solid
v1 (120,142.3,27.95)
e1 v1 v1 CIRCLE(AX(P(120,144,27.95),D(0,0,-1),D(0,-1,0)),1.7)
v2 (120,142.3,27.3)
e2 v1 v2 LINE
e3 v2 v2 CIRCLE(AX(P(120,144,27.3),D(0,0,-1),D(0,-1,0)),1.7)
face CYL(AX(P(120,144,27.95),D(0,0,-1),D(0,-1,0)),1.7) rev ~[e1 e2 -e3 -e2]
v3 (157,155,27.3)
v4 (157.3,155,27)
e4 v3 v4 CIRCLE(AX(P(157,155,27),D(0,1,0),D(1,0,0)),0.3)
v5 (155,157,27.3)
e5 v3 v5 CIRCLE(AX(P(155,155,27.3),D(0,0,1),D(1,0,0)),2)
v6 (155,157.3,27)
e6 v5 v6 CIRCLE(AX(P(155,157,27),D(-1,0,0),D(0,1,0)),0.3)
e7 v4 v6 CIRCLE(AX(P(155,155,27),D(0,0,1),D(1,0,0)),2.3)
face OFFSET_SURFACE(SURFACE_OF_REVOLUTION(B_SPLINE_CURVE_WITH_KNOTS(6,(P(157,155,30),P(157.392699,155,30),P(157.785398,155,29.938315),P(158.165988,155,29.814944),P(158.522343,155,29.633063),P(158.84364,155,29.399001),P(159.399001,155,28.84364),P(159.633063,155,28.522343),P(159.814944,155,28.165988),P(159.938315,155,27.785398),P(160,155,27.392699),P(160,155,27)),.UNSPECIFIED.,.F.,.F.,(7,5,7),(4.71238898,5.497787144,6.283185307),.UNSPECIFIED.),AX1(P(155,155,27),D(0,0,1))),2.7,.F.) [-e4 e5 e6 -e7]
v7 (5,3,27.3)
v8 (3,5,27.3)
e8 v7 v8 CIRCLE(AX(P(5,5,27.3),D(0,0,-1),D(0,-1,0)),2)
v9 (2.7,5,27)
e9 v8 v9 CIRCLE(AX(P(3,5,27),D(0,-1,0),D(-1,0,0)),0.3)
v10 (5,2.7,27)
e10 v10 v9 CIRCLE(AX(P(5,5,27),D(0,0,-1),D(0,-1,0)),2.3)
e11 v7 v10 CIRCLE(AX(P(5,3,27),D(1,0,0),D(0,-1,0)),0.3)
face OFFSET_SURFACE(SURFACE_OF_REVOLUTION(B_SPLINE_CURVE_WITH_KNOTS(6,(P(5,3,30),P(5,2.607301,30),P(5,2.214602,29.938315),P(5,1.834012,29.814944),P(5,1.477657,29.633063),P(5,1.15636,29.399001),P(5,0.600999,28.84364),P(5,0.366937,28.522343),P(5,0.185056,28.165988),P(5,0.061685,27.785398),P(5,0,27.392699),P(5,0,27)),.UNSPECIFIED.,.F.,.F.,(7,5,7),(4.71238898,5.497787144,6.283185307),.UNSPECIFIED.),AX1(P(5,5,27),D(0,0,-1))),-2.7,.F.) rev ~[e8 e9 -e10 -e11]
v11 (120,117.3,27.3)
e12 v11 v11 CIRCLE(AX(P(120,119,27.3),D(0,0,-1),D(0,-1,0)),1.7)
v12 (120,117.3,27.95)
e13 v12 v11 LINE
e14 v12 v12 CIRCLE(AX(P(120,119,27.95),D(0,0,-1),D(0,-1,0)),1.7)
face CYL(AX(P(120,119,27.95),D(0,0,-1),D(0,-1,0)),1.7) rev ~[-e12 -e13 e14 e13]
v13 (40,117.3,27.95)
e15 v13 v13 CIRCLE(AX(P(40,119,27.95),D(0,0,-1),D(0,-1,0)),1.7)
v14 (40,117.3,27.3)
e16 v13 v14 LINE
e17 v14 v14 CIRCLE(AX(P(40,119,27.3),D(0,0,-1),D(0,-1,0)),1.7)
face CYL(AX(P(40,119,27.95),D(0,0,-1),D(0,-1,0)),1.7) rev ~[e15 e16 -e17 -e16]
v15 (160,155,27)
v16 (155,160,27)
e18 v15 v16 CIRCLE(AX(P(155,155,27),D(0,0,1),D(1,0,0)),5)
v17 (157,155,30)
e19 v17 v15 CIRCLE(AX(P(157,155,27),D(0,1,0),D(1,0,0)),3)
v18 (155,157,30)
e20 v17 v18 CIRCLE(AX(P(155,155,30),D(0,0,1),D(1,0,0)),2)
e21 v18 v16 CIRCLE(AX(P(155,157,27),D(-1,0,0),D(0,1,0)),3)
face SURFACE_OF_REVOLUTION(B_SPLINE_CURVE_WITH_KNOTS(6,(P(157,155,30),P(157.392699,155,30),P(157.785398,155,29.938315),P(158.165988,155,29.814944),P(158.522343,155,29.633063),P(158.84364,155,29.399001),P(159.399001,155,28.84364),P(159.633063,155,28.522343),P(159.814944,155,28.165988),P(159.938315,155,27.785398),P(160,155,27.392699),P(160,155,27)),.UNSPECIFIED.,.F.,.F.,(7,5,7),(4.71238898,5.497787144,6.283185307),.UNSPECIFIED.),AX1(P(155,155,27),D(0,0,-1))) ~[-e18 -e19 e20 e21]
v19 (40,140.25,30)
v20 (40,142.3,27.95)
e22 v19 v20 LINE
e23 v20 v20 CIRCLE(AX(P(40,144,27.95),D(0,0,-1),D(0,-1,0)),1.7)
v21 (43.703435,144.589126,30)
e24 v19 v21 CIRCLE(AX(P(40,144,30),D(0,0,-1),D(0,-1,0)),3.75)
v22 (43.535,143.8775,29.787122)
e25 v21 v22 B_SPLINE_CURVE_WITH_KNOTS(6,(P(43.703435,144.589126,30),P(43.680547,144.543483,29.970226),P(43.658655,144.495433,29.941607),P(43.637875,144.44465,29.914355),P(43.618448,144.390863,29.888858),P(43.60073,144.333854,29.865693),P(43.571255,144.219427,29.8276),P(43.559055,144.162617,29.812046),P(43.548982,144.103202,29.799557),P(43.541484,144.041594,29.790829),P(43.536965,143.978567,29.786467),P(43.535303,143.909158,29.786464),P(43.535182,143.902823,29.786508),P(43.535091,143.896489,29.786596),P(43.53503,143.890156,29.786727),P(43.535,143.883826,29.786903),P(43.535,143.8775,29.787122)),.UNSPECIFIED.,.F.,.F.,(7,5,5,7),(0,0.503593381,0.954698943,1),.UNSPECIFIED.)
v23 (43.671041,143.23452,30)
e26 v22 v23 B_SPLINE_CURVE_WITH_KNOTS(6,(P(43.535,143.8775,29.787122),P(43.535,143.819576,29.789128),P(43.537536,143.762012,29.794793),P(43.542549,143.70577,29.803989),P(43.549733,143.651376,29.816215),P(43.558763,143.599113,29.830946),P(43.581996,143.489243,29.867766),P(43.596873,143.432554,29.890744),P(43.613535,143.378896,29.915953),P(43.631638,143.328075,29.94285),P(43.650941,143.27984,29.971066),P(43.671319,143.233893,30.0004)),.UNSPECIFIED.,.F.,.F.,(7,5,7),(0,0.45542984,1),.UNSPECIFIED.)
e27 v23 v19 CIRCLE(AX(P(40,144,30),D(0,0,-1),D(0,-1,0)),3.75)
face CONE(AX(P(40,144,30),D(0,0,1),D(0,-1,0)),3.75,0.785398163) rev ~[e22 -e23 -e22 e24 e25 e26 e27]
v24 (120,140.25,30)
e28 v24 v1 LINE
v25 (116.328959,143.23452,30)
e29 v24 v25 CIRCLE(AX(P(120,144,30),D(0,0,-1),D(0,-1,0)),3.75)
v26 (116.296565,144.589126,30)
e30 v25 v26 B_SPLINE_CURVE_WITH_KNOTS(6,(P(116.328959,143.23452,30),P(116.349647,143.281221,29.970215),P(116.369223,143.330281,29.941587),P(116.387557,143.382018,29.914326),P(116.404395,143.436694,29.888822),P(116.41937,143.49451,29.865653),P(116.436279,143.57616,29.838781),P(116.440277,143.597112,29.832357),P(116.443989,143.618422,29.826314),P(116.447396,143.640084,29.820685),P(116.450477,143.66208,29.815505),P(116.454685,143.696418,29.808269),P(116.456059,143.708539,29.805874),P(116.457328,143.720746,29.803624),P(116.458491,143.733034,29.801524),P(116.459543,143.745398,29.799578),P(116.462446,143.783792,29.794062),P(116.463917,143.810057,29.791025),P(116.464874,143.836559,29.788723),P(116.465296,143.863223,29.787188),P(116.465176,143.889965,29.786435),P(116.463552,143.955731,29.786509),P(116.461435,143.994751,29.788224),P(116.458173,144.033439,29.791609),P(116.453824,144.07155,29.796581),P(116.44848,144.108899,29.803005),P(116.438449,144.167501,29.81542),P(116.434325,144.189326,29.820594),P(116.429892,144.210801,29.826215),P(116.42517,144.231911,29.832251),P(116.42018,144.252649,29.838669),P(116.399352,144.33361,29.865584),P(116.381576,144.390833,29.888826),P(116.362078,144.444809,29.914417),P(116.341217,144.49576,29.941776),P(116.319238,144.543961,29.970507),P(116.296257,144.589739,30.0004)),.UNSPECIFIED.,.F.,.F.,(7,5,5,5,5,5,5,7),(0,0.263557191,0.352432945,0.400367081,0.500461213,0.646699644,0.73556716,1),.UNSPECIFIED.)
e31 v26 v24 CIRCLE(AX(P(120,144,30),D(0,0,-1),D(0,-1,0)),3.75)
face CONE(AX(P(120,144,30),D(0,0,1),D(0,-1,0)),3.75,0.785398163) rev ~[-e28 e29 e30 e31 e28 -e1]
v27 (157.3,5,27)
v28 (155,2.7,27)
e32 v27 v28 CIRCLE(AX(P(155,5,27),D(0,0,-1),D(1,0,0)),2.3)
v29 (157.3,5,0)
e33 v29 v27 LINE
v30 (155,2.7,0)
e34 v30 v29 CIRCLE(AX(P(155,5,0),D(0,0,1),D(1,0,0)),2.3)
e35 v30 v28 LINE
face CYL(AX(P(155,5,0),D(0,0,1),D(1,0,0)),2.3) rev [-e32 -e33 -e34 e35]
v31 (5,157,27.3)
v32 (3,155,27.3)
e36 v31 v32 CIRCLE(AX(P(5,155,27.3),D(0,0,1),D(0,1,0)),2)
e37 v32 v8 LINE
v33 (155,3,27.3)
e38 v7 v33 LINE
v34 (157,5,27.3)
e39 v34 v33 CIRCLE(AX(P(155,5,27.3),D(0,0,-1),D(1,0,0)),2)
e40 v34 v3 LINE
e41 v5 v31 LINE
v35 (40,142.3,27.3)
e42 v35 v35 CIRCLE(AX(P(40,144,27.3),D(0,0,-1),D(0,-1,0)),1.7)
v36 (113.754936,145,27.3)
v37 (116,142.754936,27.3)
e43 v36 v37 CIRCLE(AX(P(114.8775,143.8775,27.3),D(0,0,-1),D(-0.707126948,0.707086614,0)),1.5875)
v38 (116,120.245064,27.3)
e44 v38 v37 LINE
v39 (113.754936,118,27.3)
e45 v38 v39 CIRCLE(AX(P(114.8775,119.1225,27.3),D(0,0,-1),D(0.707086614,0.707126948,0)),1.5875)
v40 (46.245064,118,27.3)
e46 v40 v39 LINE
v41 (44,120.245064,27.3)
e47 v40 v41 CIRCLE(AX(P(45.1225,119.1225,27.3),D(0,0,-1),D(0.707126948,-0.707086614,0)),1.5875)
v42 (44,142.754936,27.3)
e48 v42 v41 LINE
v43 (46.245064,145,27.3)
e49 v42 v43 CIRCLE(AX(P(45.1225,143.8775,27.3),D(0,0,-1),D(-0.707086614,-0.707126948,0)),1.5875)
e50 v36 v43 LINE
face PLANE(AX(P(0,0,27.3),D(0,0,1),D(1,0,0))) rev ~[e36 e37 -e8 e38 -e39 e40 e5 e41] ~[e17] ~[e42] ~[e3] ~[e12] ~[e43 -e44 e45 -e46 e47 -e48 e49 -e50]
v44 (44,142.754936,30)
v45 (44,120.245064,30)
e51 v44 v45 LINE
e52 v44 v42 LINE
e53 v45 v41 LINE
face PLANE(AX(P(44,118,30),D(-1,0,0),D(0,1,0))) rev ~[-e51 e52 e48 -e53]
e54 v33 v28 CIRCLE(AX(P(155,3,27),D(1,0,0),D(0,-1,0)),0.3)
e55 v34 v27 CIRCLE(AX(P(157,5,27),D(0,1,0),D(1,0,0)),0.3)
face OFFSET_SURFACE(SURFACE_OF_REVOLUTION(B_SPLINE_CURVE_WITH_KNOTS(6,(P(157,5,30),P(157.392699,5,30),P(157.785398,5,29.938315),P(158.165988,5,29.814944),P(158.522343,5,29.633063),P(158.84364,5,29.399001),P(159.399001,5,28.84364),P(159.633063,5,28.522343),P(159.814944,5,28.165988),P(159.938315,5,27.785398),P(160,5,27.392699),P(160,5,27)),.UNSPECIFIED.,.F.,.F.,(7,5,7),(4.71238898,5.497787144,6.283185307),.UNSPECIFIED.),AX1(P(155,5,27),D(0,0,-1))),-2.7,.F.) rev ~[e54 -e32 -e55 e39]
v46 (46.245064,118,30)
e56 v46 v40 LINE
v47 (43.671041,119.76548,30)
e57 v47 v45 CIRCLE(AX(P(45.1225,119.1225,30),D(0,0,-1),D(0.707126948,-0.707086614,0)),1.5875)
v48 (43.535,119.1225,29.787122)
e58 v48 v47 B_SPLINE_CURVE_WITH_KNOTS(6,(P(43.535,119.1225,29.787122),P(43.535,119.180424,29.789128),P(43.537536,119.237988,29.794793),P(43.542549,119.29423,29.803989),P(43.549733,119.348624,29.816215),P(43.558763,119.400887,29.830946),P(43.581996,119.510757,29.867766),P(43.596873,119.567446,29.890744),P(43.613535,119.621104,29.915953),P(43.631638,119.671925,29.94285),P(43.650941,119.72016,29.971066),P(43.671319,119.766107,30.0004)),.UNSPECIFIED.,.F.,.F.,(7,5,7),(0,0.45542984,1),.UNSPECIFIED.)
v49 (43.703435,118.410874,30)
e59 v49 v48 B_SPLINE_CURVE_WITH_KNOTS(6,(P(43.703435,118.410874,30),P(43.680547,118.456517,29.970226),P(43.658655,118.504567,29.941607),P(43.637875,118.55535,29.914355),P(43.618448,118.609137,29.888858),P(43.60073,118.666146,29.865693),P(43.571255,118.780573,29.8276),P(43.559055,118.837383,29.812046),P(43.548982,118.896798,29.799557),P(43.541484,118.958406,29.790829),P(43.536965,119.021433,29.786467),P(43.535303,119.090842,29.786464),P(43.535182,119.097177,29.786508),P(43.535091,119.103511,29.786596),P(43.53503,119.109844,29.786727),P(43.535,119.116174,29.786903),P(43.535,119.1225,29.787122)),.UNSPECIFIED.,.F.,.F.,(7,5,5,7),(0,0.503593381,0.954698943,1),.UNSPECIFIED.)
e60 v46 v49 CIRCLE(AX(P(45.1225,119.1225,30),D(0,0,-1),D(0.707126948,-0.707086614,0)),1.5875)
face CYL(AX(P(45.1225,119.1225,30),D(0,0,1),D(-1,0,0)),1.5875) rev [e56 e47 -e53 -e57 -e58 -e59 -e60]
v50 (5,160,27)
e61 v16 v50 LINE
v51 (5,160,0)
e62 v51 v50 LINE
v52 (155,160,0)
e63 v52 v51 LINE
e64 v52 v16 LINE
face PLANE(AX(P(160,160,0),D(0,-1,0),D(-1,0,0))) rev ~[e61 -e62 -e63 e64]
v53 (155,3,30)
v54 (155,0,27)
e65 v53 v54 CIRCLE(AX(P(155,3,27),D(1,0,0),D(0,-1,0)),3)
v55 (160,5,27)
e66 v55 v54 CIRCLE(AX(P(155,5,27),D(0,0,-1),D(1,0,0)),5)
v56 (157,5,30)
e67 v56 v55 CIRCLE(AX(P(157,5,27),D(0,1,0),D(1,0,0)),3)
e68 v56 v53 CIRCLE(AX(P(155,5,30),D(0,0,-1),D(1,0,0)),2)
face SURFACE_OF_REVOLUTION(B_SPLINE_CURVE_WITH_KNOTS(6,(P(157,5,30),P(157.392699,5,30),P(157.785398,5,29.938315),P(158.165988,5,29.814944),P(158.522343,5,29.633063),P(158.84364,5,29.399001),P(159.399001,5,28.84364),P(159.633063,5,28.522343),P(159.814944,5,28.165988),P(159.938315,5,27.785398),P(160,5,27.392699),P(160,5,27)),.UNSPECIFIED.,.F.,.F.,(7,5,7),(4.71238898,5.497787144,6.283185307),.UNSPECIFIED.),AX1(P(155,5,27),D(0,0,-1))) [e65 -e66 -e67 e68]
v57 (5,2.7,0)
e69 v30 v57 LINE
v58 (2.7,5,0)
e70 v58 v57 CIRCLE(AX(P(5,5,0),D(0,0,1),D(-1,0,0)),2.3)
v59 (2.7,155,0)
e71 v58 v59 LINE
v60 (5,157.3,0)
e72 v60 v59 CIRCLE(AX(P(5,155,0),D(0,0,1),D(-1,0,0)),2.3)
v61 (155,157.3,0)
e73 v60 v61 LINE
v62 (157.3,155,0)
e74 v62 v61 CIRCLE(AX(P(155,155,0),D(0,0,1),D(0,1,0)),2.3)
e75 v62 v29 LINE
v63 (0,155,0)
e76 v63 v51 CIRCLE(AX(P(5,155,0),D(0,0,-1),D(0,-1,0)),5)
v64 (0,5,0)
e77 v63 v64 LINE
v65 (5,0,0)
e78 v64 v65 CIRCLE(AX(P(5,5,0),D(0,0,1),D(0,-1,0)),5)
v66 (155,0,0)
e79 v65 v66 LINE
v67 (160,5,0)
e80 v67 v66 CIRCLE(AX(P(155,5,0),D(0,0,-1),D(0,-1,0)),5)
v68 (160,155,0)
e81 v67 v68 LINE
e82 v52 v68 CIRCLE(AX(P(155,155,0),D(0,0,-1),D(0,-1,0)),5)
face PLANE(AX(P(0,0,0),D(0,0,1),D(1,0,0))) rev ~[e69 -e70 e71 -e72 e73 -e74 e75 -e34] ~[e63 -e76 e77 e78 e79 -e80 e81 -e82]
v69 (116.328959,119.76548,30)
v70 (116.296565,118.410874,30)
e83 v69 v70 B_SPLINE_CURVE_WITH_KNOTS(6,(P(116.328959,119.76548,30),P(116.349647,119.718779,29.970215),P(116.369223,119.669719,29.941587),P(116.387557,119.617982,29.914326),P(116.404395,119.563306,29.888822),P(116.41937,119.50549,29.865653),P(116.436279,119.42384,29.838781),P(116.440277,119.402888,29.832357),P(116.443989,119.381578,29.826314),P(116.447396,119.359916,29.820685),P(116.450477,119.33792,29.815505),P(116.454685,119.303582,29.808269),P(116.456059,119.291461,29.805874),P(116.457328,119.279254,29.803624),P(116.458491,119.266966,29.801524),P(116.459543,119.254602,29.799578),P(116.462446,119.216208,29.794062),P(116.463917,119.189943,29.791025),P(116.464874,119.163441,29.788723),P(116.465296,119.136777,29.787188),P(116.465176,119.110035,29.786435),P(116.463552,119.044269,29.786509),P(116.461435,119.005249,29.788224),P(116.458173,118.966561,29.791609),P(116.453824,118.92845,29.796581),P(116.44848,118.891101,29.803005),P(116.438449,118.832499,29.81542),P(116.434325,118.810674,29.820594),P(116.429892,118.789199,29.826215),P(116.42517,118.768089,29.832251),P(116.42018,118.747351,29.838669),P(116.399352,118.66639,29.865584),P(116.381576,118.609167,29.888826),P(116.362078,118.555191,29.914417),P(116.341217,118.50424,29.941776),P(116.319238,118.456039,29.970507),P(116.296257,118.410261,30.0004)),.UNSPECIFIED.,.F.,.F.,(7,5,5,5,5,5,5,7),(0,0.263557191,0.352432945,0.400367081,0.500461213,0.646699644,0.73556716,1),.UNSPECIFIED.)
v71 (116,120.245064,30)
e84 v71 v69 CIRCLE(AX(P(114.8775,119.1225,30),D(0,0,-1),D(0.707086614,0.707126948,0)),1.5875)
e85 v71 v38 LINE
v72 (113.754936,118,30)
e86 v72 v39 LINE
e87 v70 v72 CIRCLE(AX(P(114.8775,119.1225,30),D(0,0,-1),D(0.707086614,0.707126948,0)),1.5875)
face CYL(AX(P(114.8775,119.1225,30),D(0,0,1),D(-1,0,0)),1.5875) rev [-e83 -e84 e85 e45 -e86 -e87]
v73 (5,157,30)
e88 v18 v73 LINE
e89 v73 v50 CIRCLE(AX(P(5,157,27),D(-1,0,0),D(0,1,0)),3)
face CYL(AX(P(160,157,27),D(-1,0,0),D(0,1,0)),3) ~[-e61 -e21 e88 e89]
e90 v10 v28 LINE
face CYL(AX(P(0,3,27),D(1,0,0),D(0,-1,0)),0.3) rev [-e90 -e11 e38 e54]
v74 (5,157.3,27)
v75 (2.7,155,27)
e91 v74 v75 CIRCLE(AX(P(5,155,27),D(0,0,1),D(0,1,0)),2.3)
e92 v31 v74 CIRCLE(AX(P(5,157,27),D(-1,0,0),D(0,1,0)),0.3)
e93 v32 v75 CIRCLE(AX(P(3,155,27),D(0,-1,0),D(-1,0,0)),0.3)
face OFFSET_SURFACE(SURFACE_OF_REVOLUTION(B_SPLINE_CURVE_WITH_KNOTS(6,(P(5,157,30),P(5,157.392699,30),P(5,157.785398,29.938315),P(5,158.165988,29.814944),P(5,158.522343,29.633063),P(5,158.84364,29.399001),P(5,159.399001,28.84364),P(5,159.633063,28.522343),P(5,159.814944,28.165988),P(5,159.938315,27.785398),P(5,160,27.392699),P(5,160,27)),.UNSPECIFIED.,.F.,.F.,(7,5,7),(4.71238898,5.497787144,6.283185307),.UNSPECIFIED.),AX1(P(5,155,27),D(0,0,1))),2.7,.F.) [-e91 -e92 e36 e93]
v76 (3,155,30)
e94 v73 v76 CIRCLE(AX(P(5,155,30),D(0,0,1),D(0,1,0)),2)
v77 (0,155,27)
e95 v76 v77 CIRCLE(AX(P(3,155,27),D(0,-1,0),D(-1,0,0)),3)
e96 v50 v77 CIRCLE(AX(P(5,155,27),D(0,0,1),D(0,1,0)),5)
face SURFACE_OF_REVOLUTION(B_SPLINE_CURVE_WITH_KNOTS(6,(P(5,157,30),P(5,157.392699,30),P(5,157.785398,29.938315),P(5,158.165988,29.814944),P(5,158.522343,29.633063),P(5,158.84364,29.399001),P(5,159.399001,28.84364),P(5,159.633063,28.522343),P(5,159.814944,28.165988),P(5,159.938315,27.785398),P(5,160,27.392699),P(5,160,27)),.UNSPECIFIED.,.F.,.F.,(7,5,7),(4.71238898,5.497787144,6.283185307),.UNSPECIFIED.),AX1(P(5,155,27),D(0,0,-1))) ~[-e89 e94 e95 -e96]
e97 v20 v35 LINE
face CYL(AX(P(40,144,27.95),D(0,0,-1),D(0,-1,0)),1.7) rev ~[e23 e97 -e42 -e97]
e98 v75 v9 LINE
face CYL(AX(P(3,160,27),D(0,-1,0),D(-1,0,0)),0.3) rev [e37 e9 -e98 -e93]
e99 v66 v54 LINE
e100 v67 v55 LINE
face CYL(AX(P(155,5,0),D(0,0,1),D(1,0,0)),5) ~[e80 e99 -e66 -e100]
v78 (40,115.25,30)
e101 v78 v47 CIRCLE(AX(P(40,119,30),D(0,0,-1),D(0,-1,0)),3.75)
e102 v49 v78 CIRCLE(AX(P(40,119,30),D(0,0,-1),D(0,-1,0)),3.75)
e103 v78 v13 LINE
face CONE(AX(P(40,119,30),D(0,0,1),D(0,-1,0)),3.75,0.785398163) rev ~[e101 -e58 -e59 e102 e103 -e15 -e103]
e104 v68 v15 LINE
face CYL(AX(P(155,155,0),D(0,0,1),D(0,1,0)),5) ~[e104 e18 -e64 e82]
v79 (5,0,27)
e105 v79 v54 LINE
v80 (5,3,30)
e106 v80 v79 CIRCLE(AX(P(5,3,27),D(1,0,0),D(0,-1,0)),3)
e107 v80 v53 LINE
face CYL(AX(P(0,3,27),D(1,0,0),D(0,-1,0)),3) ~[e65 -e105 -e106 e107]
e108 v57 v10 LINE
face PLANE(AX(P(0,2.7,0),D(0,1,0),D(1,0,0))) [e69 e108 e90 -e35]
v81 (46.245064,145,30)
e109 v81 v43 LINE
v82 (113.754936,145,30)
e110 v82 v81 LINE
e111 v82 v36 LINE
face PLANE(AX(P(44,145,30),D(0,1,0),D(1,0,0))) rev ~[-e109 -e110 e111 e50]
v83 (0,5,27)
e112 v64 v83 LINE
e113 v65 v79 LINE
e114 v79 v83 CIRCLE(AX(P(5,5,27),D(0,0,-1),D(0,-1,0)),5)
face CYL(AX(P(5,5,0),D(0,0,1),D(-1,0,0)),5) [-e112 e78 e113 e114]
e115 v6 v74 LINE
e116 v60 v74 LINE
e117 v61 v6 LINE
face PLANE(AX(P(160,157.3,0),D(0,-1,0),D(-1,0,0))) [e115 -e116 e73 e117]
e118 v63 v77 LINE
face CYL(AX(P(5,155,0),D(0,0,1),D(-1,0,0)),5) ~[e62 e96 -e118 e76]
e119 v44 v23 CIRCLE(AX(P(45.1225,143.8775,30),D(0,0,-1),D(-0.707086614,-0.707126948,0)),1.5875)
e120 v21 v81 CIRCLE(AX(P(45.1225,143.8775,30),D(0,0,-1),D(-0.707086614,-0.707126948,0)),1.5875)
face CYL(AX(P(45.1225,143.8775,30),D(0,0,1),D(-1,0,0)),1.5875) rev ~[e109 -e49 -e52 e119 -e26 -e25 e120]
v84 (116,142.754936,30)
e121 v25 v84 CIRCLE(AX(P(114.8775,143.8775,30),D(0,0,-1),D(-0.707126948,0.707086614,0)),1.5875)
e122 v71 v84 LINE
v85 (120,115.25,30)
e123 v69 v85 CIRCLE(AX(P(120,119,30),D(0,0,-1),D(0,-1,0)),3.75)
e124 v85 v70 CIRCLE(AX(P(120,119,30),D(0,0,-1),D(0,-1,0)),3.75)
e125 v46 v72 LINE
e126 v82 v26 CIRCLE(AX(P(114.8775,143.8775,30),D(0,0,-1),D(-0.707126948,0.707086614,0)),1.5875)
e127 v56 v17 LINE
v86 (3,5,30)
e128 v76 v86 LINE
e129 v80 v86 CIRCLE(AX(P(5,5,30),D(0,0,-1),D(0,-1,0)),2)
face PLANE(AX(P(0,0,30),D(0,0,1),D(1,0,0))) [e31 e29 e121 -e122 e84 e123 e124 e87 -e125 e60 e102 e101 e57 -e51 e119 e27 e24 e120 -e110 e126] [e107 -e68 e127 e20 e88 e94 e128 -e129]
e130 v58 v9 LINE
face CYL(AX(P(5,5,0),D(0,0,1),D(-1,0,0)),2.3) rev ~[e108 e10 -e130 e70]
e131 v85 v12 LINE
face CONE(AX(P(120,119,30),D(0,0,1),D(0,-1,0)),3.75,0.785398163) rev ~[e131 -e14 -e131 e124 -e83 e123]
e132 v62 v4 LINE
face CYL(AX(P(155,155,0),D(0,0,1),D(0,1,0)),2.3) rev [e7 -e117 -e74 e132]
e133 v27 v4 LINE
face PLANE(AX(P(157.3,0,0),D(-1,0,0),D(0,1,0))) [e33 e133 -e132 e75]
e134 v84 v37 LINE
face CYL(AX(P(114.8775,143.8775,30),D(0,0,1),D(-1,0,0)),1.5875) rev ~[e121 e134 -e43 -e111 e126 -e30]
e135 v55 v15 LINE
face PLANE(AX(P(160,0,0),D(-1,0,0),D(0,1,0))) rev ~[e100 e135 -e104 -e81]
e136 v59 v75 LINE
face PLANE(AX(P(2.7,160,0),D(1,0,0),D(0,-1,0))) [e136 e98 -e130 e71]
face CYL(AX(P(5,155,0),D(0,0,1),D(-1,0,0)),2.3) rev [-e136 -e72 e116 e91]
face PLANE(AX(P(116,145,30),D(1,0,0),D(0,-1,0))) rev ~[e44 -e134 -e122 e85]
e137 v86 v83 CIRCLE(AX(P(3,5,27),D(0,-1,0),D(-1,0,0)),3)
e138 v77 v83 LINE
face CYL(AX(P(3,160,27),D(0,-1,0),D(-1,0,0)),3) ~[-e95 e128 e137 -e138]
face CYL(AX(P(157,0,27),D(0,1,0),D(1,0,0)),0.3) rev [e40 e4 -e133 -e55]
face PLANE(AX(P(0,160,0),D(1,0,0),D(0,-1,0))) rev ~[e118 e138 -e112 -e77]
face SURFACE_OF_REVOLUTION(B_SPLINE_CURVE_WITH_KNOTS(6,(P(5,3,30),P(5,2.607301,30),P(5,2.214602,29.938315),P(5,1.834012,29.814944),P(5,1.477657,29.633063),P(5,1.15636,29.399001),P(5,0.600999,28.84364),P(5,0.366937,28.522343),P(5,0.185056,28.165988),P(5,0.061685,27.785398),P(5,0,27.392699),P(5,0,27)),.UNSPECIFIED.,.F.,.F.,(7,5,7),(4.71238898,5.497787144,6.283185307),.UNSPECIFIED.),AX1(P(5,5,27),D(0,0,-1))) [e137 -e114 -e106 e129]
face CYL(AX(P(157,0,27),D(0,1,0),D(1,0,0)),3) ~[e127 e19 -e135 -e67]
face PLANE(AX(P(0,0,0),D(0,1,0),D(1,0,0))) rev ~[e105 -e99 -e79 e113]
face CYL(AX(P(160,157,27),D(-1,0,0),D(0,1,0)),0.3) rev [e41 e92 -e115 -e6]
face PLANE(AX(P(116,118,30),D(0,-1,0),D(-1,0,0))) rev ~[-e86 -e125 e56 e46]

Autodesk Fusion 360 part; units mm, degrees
sketch "Sketch1" plane through (0, 0, 0) normal (0, 0, 1) x (1, 0, 0)
  line L0 (0, 0) -> (160, 0)
  line L1 (160, 0) -> (160, 160)
  line L2 (160, 160) -> (0, 160)
  line L3 (0, 160) -> (0, 0)
  dimension "d1" = 160
  dimension "d3" = 160
extrude "Extrude1" add sketch "Sketch1" along normal blind 30
fillet "Fillet1" radius 5 4 edges at (0, 160, 15) (0, 0, 15) (160, 0, 15) (160, 160, 15)
fillet "Fillet1" radius 3 4 edges at (160, 80, 30) (80, 160, 30) (80, 0, 30) (0, 80, 30)
shell "Shell1" thickness 2.7 removed faces 1 at (53.3333, 51.6667, 0)
sketch "Sketch3" plane through (0, 0, 30) normal (0, 0, 1) x (-1, 0, 0)
  arc A0 (-5, -157) -> (-3, -155) centre (-5, -155) ccw
  line L0 (-3, -155) -> (-3, -5)
  arc A1 (-3, -5) -> (-5, -3) centre (-5, -5) ccw
  line L1 (-5, -3) -> (-155, -3)
  arc A2 (-155, -3) -> (-157, -5) centre (-155, -5) ccw
  line L2 (-157, -5) -> (-157, -155)
  arc A3 (-157, -155) -> (-155, -157) centre (-155, -155) ccw
  line L3 (-155, -157) -> (-5, -157)
  line L4 (-44, -145) -> (-116, -145)
  line L5 (-116, -145) -> (-116, -118)
  line L6 (-116, -118) -> (-44, -118)
  line L7 (-44, -118) -> (-44, -145)
  arc A4 (-155, 0) -> (-160, -5) centre (-155, -5) ccw
  line L8 (-160, -5) -> (-160, -155)
  arc A5 (-160, -155) -> (-155, -160) centre (-155, -155) ccw
  line L9 (-155, -160) -> (-5, -160)
  arc A6 (-5, -160) -> (0, -155) centre (-5, -155) ccw
  line L10 (0, -155) -> (0, -5)
  arc A7 (0, -5) -> (-5, 0) centre (-5, -5) ccw
  line L11 (-5, 0) -> (-155, 0)
  line L12 (-80, -145) -> (-80, -160) construction
  dimension "d11" = 72
  dimension "d12" = 27
  dimension "d13" = 15
extrude "Extrude2" cut sketch "Sketch3" along normal through all and the other way through all contours L4 L5 L6 L7
sketch "Sketch4" plane through (0, 0, 30) normal (0, 0, 1) x (-1, 0, 0)
  line L0 (-44, -145) -> (-44, -118)
  line L1 (-44, -118) -> (-116, -118)
  line L2 (-116, -118) -> (-116, -145)
  line L3 (-116, -145) -> (-44, -145)
  arc A0 (-155, 0) -> (-160, -5) centre (-155, -5) ccw
  line L4 (-160, -5) -> (-160, -155)
  arc A1 (-160, -155) -> (-155, -160) centre (-155, -155) ccw
  line L5 (-155, -160) -> (-5, -160)
  arc A2 (-5, -160) -> (0, -155) centre (-5, -155) ccw
  line L6 (0, -155) -> (0, -5)
  arc A3 (0, -5) -> (-5, 0) centre (-5, -5) ccw
  line L7 (-5, 0) -> (-155, 0)
  line L8 (-40, -144) -> (-120, -144)
  line L9 (-120, -144) -> (-120, -119)
  line L10 (-120, -119) -> (-40, -119)
  line L11 (-40, -119) -> (-40, -144)
  line L12 (-44, -131.5) -> (-40, -131.5)
  line L13 (-80, -144) -> (-80, -145)
  line L14 (-80, -118) -> (-80, -119)
  line L15 (-116, -131.5) -> (-120, -131.5)
  dimension "d31" = 80
  dimension "d32" = 25
sketch "Sketch5" plane through (0, 0, 30) normal (0, 0, 1) x (-1, 0, 0)
  line L0 (-44, -118) -> (-44, -145)
  line L1 (-44, -145) -> (-116, -145)
  line L2 (-116, -145) -> (-116, -118)
  line L3 (-116, -118) -> (-44, -118)
  arc A0 (-5, -157) -> (-3, -155) centre (-5, -155) ccw
  line L4 (-3, -155) -> (-3, -5)
  arc A1 (-3, -5) -> (-5, -3) centre (-5, -5) ccw
  line L5 (-5, -3) -> (-155, -3)
  arc A2 (-155, -3) -> (-157, -5) centre (-155, -5) ccw
  line L6 (-157, -5) -> (-157, -155)
  arc A3 (-157, -155) -> (-155, -157) centre (-155, -155) ccw
  line L7 (-155, -157) -> (-5, -157)
  circle A4 centre (-45.1225, -143.8775) radius 1.5875
  line L8 (-44, -145) -> (-45.1225, -143.8775)
  circle A5 centre (-114.8775, -143.8775) radius 1.5875
  line L9 (-116, -145) -> (-114.8775, -143.8775) construction
  dimension "d23" = 3.175
  dimension "d24" = 45
  dimension "d25" = 3.175
extrude "Extrude3" cut sketch "Sketch5" along normal through all and the other way through all contours L0 A4 | L0 L1 A4 | L1 A4 | L1 L2 A5 | L2 A5 | L1 A5
ref_plane "WorkPlane1" through (80, 131.5, 28.65) normal (0, -1, 0) x (-1, 0, 0)
mirror "Mirror1" about plane through (80, 131.5, 28.65) normal (0, -1, 0) of "Extrude3"
fillet "Fillet2" [suppressed]
hole "Hole1" at (120, 144, 30) at (120, 119, 30) at (40, 119, 30) at (40, 144, 30) direction (0, 0, -1) diameter 3.4 depth 15 tip angle 118 countersink diameter 7.5 countersink angle 90
equation "d1 = Lid_X"
equation "d3 = Lid_Y"
equation "d4 = Lid_Z"
equation "d8 = Lid_Thikness"
equation "d11 = Opening_X"
equation "d12 = Opening_Y"
equation "d23 = d25"
equation "d25 = dog_bone_DIA"
equation "d30 = Corner_rad"
equation "d31 = Holes_X"
equation "d32 = Holes_Y"
equation "Lid_X = 160 mm"
equation "Lid_Y = 160 mm"
equation "Lid_Z = 30 mm"
equation "Opening_X = 72 mm"
equation "Opening_Y = 27 mm"
equation "Lid_Thikness = 2.7 mm"
equation "Corner_rad = 0.793 mm"
equation "Holes_X = 80 mm"
equation "Holes_Y = 25 mm"
equation "dog_bone_DIA = 0'- 1/8\""
